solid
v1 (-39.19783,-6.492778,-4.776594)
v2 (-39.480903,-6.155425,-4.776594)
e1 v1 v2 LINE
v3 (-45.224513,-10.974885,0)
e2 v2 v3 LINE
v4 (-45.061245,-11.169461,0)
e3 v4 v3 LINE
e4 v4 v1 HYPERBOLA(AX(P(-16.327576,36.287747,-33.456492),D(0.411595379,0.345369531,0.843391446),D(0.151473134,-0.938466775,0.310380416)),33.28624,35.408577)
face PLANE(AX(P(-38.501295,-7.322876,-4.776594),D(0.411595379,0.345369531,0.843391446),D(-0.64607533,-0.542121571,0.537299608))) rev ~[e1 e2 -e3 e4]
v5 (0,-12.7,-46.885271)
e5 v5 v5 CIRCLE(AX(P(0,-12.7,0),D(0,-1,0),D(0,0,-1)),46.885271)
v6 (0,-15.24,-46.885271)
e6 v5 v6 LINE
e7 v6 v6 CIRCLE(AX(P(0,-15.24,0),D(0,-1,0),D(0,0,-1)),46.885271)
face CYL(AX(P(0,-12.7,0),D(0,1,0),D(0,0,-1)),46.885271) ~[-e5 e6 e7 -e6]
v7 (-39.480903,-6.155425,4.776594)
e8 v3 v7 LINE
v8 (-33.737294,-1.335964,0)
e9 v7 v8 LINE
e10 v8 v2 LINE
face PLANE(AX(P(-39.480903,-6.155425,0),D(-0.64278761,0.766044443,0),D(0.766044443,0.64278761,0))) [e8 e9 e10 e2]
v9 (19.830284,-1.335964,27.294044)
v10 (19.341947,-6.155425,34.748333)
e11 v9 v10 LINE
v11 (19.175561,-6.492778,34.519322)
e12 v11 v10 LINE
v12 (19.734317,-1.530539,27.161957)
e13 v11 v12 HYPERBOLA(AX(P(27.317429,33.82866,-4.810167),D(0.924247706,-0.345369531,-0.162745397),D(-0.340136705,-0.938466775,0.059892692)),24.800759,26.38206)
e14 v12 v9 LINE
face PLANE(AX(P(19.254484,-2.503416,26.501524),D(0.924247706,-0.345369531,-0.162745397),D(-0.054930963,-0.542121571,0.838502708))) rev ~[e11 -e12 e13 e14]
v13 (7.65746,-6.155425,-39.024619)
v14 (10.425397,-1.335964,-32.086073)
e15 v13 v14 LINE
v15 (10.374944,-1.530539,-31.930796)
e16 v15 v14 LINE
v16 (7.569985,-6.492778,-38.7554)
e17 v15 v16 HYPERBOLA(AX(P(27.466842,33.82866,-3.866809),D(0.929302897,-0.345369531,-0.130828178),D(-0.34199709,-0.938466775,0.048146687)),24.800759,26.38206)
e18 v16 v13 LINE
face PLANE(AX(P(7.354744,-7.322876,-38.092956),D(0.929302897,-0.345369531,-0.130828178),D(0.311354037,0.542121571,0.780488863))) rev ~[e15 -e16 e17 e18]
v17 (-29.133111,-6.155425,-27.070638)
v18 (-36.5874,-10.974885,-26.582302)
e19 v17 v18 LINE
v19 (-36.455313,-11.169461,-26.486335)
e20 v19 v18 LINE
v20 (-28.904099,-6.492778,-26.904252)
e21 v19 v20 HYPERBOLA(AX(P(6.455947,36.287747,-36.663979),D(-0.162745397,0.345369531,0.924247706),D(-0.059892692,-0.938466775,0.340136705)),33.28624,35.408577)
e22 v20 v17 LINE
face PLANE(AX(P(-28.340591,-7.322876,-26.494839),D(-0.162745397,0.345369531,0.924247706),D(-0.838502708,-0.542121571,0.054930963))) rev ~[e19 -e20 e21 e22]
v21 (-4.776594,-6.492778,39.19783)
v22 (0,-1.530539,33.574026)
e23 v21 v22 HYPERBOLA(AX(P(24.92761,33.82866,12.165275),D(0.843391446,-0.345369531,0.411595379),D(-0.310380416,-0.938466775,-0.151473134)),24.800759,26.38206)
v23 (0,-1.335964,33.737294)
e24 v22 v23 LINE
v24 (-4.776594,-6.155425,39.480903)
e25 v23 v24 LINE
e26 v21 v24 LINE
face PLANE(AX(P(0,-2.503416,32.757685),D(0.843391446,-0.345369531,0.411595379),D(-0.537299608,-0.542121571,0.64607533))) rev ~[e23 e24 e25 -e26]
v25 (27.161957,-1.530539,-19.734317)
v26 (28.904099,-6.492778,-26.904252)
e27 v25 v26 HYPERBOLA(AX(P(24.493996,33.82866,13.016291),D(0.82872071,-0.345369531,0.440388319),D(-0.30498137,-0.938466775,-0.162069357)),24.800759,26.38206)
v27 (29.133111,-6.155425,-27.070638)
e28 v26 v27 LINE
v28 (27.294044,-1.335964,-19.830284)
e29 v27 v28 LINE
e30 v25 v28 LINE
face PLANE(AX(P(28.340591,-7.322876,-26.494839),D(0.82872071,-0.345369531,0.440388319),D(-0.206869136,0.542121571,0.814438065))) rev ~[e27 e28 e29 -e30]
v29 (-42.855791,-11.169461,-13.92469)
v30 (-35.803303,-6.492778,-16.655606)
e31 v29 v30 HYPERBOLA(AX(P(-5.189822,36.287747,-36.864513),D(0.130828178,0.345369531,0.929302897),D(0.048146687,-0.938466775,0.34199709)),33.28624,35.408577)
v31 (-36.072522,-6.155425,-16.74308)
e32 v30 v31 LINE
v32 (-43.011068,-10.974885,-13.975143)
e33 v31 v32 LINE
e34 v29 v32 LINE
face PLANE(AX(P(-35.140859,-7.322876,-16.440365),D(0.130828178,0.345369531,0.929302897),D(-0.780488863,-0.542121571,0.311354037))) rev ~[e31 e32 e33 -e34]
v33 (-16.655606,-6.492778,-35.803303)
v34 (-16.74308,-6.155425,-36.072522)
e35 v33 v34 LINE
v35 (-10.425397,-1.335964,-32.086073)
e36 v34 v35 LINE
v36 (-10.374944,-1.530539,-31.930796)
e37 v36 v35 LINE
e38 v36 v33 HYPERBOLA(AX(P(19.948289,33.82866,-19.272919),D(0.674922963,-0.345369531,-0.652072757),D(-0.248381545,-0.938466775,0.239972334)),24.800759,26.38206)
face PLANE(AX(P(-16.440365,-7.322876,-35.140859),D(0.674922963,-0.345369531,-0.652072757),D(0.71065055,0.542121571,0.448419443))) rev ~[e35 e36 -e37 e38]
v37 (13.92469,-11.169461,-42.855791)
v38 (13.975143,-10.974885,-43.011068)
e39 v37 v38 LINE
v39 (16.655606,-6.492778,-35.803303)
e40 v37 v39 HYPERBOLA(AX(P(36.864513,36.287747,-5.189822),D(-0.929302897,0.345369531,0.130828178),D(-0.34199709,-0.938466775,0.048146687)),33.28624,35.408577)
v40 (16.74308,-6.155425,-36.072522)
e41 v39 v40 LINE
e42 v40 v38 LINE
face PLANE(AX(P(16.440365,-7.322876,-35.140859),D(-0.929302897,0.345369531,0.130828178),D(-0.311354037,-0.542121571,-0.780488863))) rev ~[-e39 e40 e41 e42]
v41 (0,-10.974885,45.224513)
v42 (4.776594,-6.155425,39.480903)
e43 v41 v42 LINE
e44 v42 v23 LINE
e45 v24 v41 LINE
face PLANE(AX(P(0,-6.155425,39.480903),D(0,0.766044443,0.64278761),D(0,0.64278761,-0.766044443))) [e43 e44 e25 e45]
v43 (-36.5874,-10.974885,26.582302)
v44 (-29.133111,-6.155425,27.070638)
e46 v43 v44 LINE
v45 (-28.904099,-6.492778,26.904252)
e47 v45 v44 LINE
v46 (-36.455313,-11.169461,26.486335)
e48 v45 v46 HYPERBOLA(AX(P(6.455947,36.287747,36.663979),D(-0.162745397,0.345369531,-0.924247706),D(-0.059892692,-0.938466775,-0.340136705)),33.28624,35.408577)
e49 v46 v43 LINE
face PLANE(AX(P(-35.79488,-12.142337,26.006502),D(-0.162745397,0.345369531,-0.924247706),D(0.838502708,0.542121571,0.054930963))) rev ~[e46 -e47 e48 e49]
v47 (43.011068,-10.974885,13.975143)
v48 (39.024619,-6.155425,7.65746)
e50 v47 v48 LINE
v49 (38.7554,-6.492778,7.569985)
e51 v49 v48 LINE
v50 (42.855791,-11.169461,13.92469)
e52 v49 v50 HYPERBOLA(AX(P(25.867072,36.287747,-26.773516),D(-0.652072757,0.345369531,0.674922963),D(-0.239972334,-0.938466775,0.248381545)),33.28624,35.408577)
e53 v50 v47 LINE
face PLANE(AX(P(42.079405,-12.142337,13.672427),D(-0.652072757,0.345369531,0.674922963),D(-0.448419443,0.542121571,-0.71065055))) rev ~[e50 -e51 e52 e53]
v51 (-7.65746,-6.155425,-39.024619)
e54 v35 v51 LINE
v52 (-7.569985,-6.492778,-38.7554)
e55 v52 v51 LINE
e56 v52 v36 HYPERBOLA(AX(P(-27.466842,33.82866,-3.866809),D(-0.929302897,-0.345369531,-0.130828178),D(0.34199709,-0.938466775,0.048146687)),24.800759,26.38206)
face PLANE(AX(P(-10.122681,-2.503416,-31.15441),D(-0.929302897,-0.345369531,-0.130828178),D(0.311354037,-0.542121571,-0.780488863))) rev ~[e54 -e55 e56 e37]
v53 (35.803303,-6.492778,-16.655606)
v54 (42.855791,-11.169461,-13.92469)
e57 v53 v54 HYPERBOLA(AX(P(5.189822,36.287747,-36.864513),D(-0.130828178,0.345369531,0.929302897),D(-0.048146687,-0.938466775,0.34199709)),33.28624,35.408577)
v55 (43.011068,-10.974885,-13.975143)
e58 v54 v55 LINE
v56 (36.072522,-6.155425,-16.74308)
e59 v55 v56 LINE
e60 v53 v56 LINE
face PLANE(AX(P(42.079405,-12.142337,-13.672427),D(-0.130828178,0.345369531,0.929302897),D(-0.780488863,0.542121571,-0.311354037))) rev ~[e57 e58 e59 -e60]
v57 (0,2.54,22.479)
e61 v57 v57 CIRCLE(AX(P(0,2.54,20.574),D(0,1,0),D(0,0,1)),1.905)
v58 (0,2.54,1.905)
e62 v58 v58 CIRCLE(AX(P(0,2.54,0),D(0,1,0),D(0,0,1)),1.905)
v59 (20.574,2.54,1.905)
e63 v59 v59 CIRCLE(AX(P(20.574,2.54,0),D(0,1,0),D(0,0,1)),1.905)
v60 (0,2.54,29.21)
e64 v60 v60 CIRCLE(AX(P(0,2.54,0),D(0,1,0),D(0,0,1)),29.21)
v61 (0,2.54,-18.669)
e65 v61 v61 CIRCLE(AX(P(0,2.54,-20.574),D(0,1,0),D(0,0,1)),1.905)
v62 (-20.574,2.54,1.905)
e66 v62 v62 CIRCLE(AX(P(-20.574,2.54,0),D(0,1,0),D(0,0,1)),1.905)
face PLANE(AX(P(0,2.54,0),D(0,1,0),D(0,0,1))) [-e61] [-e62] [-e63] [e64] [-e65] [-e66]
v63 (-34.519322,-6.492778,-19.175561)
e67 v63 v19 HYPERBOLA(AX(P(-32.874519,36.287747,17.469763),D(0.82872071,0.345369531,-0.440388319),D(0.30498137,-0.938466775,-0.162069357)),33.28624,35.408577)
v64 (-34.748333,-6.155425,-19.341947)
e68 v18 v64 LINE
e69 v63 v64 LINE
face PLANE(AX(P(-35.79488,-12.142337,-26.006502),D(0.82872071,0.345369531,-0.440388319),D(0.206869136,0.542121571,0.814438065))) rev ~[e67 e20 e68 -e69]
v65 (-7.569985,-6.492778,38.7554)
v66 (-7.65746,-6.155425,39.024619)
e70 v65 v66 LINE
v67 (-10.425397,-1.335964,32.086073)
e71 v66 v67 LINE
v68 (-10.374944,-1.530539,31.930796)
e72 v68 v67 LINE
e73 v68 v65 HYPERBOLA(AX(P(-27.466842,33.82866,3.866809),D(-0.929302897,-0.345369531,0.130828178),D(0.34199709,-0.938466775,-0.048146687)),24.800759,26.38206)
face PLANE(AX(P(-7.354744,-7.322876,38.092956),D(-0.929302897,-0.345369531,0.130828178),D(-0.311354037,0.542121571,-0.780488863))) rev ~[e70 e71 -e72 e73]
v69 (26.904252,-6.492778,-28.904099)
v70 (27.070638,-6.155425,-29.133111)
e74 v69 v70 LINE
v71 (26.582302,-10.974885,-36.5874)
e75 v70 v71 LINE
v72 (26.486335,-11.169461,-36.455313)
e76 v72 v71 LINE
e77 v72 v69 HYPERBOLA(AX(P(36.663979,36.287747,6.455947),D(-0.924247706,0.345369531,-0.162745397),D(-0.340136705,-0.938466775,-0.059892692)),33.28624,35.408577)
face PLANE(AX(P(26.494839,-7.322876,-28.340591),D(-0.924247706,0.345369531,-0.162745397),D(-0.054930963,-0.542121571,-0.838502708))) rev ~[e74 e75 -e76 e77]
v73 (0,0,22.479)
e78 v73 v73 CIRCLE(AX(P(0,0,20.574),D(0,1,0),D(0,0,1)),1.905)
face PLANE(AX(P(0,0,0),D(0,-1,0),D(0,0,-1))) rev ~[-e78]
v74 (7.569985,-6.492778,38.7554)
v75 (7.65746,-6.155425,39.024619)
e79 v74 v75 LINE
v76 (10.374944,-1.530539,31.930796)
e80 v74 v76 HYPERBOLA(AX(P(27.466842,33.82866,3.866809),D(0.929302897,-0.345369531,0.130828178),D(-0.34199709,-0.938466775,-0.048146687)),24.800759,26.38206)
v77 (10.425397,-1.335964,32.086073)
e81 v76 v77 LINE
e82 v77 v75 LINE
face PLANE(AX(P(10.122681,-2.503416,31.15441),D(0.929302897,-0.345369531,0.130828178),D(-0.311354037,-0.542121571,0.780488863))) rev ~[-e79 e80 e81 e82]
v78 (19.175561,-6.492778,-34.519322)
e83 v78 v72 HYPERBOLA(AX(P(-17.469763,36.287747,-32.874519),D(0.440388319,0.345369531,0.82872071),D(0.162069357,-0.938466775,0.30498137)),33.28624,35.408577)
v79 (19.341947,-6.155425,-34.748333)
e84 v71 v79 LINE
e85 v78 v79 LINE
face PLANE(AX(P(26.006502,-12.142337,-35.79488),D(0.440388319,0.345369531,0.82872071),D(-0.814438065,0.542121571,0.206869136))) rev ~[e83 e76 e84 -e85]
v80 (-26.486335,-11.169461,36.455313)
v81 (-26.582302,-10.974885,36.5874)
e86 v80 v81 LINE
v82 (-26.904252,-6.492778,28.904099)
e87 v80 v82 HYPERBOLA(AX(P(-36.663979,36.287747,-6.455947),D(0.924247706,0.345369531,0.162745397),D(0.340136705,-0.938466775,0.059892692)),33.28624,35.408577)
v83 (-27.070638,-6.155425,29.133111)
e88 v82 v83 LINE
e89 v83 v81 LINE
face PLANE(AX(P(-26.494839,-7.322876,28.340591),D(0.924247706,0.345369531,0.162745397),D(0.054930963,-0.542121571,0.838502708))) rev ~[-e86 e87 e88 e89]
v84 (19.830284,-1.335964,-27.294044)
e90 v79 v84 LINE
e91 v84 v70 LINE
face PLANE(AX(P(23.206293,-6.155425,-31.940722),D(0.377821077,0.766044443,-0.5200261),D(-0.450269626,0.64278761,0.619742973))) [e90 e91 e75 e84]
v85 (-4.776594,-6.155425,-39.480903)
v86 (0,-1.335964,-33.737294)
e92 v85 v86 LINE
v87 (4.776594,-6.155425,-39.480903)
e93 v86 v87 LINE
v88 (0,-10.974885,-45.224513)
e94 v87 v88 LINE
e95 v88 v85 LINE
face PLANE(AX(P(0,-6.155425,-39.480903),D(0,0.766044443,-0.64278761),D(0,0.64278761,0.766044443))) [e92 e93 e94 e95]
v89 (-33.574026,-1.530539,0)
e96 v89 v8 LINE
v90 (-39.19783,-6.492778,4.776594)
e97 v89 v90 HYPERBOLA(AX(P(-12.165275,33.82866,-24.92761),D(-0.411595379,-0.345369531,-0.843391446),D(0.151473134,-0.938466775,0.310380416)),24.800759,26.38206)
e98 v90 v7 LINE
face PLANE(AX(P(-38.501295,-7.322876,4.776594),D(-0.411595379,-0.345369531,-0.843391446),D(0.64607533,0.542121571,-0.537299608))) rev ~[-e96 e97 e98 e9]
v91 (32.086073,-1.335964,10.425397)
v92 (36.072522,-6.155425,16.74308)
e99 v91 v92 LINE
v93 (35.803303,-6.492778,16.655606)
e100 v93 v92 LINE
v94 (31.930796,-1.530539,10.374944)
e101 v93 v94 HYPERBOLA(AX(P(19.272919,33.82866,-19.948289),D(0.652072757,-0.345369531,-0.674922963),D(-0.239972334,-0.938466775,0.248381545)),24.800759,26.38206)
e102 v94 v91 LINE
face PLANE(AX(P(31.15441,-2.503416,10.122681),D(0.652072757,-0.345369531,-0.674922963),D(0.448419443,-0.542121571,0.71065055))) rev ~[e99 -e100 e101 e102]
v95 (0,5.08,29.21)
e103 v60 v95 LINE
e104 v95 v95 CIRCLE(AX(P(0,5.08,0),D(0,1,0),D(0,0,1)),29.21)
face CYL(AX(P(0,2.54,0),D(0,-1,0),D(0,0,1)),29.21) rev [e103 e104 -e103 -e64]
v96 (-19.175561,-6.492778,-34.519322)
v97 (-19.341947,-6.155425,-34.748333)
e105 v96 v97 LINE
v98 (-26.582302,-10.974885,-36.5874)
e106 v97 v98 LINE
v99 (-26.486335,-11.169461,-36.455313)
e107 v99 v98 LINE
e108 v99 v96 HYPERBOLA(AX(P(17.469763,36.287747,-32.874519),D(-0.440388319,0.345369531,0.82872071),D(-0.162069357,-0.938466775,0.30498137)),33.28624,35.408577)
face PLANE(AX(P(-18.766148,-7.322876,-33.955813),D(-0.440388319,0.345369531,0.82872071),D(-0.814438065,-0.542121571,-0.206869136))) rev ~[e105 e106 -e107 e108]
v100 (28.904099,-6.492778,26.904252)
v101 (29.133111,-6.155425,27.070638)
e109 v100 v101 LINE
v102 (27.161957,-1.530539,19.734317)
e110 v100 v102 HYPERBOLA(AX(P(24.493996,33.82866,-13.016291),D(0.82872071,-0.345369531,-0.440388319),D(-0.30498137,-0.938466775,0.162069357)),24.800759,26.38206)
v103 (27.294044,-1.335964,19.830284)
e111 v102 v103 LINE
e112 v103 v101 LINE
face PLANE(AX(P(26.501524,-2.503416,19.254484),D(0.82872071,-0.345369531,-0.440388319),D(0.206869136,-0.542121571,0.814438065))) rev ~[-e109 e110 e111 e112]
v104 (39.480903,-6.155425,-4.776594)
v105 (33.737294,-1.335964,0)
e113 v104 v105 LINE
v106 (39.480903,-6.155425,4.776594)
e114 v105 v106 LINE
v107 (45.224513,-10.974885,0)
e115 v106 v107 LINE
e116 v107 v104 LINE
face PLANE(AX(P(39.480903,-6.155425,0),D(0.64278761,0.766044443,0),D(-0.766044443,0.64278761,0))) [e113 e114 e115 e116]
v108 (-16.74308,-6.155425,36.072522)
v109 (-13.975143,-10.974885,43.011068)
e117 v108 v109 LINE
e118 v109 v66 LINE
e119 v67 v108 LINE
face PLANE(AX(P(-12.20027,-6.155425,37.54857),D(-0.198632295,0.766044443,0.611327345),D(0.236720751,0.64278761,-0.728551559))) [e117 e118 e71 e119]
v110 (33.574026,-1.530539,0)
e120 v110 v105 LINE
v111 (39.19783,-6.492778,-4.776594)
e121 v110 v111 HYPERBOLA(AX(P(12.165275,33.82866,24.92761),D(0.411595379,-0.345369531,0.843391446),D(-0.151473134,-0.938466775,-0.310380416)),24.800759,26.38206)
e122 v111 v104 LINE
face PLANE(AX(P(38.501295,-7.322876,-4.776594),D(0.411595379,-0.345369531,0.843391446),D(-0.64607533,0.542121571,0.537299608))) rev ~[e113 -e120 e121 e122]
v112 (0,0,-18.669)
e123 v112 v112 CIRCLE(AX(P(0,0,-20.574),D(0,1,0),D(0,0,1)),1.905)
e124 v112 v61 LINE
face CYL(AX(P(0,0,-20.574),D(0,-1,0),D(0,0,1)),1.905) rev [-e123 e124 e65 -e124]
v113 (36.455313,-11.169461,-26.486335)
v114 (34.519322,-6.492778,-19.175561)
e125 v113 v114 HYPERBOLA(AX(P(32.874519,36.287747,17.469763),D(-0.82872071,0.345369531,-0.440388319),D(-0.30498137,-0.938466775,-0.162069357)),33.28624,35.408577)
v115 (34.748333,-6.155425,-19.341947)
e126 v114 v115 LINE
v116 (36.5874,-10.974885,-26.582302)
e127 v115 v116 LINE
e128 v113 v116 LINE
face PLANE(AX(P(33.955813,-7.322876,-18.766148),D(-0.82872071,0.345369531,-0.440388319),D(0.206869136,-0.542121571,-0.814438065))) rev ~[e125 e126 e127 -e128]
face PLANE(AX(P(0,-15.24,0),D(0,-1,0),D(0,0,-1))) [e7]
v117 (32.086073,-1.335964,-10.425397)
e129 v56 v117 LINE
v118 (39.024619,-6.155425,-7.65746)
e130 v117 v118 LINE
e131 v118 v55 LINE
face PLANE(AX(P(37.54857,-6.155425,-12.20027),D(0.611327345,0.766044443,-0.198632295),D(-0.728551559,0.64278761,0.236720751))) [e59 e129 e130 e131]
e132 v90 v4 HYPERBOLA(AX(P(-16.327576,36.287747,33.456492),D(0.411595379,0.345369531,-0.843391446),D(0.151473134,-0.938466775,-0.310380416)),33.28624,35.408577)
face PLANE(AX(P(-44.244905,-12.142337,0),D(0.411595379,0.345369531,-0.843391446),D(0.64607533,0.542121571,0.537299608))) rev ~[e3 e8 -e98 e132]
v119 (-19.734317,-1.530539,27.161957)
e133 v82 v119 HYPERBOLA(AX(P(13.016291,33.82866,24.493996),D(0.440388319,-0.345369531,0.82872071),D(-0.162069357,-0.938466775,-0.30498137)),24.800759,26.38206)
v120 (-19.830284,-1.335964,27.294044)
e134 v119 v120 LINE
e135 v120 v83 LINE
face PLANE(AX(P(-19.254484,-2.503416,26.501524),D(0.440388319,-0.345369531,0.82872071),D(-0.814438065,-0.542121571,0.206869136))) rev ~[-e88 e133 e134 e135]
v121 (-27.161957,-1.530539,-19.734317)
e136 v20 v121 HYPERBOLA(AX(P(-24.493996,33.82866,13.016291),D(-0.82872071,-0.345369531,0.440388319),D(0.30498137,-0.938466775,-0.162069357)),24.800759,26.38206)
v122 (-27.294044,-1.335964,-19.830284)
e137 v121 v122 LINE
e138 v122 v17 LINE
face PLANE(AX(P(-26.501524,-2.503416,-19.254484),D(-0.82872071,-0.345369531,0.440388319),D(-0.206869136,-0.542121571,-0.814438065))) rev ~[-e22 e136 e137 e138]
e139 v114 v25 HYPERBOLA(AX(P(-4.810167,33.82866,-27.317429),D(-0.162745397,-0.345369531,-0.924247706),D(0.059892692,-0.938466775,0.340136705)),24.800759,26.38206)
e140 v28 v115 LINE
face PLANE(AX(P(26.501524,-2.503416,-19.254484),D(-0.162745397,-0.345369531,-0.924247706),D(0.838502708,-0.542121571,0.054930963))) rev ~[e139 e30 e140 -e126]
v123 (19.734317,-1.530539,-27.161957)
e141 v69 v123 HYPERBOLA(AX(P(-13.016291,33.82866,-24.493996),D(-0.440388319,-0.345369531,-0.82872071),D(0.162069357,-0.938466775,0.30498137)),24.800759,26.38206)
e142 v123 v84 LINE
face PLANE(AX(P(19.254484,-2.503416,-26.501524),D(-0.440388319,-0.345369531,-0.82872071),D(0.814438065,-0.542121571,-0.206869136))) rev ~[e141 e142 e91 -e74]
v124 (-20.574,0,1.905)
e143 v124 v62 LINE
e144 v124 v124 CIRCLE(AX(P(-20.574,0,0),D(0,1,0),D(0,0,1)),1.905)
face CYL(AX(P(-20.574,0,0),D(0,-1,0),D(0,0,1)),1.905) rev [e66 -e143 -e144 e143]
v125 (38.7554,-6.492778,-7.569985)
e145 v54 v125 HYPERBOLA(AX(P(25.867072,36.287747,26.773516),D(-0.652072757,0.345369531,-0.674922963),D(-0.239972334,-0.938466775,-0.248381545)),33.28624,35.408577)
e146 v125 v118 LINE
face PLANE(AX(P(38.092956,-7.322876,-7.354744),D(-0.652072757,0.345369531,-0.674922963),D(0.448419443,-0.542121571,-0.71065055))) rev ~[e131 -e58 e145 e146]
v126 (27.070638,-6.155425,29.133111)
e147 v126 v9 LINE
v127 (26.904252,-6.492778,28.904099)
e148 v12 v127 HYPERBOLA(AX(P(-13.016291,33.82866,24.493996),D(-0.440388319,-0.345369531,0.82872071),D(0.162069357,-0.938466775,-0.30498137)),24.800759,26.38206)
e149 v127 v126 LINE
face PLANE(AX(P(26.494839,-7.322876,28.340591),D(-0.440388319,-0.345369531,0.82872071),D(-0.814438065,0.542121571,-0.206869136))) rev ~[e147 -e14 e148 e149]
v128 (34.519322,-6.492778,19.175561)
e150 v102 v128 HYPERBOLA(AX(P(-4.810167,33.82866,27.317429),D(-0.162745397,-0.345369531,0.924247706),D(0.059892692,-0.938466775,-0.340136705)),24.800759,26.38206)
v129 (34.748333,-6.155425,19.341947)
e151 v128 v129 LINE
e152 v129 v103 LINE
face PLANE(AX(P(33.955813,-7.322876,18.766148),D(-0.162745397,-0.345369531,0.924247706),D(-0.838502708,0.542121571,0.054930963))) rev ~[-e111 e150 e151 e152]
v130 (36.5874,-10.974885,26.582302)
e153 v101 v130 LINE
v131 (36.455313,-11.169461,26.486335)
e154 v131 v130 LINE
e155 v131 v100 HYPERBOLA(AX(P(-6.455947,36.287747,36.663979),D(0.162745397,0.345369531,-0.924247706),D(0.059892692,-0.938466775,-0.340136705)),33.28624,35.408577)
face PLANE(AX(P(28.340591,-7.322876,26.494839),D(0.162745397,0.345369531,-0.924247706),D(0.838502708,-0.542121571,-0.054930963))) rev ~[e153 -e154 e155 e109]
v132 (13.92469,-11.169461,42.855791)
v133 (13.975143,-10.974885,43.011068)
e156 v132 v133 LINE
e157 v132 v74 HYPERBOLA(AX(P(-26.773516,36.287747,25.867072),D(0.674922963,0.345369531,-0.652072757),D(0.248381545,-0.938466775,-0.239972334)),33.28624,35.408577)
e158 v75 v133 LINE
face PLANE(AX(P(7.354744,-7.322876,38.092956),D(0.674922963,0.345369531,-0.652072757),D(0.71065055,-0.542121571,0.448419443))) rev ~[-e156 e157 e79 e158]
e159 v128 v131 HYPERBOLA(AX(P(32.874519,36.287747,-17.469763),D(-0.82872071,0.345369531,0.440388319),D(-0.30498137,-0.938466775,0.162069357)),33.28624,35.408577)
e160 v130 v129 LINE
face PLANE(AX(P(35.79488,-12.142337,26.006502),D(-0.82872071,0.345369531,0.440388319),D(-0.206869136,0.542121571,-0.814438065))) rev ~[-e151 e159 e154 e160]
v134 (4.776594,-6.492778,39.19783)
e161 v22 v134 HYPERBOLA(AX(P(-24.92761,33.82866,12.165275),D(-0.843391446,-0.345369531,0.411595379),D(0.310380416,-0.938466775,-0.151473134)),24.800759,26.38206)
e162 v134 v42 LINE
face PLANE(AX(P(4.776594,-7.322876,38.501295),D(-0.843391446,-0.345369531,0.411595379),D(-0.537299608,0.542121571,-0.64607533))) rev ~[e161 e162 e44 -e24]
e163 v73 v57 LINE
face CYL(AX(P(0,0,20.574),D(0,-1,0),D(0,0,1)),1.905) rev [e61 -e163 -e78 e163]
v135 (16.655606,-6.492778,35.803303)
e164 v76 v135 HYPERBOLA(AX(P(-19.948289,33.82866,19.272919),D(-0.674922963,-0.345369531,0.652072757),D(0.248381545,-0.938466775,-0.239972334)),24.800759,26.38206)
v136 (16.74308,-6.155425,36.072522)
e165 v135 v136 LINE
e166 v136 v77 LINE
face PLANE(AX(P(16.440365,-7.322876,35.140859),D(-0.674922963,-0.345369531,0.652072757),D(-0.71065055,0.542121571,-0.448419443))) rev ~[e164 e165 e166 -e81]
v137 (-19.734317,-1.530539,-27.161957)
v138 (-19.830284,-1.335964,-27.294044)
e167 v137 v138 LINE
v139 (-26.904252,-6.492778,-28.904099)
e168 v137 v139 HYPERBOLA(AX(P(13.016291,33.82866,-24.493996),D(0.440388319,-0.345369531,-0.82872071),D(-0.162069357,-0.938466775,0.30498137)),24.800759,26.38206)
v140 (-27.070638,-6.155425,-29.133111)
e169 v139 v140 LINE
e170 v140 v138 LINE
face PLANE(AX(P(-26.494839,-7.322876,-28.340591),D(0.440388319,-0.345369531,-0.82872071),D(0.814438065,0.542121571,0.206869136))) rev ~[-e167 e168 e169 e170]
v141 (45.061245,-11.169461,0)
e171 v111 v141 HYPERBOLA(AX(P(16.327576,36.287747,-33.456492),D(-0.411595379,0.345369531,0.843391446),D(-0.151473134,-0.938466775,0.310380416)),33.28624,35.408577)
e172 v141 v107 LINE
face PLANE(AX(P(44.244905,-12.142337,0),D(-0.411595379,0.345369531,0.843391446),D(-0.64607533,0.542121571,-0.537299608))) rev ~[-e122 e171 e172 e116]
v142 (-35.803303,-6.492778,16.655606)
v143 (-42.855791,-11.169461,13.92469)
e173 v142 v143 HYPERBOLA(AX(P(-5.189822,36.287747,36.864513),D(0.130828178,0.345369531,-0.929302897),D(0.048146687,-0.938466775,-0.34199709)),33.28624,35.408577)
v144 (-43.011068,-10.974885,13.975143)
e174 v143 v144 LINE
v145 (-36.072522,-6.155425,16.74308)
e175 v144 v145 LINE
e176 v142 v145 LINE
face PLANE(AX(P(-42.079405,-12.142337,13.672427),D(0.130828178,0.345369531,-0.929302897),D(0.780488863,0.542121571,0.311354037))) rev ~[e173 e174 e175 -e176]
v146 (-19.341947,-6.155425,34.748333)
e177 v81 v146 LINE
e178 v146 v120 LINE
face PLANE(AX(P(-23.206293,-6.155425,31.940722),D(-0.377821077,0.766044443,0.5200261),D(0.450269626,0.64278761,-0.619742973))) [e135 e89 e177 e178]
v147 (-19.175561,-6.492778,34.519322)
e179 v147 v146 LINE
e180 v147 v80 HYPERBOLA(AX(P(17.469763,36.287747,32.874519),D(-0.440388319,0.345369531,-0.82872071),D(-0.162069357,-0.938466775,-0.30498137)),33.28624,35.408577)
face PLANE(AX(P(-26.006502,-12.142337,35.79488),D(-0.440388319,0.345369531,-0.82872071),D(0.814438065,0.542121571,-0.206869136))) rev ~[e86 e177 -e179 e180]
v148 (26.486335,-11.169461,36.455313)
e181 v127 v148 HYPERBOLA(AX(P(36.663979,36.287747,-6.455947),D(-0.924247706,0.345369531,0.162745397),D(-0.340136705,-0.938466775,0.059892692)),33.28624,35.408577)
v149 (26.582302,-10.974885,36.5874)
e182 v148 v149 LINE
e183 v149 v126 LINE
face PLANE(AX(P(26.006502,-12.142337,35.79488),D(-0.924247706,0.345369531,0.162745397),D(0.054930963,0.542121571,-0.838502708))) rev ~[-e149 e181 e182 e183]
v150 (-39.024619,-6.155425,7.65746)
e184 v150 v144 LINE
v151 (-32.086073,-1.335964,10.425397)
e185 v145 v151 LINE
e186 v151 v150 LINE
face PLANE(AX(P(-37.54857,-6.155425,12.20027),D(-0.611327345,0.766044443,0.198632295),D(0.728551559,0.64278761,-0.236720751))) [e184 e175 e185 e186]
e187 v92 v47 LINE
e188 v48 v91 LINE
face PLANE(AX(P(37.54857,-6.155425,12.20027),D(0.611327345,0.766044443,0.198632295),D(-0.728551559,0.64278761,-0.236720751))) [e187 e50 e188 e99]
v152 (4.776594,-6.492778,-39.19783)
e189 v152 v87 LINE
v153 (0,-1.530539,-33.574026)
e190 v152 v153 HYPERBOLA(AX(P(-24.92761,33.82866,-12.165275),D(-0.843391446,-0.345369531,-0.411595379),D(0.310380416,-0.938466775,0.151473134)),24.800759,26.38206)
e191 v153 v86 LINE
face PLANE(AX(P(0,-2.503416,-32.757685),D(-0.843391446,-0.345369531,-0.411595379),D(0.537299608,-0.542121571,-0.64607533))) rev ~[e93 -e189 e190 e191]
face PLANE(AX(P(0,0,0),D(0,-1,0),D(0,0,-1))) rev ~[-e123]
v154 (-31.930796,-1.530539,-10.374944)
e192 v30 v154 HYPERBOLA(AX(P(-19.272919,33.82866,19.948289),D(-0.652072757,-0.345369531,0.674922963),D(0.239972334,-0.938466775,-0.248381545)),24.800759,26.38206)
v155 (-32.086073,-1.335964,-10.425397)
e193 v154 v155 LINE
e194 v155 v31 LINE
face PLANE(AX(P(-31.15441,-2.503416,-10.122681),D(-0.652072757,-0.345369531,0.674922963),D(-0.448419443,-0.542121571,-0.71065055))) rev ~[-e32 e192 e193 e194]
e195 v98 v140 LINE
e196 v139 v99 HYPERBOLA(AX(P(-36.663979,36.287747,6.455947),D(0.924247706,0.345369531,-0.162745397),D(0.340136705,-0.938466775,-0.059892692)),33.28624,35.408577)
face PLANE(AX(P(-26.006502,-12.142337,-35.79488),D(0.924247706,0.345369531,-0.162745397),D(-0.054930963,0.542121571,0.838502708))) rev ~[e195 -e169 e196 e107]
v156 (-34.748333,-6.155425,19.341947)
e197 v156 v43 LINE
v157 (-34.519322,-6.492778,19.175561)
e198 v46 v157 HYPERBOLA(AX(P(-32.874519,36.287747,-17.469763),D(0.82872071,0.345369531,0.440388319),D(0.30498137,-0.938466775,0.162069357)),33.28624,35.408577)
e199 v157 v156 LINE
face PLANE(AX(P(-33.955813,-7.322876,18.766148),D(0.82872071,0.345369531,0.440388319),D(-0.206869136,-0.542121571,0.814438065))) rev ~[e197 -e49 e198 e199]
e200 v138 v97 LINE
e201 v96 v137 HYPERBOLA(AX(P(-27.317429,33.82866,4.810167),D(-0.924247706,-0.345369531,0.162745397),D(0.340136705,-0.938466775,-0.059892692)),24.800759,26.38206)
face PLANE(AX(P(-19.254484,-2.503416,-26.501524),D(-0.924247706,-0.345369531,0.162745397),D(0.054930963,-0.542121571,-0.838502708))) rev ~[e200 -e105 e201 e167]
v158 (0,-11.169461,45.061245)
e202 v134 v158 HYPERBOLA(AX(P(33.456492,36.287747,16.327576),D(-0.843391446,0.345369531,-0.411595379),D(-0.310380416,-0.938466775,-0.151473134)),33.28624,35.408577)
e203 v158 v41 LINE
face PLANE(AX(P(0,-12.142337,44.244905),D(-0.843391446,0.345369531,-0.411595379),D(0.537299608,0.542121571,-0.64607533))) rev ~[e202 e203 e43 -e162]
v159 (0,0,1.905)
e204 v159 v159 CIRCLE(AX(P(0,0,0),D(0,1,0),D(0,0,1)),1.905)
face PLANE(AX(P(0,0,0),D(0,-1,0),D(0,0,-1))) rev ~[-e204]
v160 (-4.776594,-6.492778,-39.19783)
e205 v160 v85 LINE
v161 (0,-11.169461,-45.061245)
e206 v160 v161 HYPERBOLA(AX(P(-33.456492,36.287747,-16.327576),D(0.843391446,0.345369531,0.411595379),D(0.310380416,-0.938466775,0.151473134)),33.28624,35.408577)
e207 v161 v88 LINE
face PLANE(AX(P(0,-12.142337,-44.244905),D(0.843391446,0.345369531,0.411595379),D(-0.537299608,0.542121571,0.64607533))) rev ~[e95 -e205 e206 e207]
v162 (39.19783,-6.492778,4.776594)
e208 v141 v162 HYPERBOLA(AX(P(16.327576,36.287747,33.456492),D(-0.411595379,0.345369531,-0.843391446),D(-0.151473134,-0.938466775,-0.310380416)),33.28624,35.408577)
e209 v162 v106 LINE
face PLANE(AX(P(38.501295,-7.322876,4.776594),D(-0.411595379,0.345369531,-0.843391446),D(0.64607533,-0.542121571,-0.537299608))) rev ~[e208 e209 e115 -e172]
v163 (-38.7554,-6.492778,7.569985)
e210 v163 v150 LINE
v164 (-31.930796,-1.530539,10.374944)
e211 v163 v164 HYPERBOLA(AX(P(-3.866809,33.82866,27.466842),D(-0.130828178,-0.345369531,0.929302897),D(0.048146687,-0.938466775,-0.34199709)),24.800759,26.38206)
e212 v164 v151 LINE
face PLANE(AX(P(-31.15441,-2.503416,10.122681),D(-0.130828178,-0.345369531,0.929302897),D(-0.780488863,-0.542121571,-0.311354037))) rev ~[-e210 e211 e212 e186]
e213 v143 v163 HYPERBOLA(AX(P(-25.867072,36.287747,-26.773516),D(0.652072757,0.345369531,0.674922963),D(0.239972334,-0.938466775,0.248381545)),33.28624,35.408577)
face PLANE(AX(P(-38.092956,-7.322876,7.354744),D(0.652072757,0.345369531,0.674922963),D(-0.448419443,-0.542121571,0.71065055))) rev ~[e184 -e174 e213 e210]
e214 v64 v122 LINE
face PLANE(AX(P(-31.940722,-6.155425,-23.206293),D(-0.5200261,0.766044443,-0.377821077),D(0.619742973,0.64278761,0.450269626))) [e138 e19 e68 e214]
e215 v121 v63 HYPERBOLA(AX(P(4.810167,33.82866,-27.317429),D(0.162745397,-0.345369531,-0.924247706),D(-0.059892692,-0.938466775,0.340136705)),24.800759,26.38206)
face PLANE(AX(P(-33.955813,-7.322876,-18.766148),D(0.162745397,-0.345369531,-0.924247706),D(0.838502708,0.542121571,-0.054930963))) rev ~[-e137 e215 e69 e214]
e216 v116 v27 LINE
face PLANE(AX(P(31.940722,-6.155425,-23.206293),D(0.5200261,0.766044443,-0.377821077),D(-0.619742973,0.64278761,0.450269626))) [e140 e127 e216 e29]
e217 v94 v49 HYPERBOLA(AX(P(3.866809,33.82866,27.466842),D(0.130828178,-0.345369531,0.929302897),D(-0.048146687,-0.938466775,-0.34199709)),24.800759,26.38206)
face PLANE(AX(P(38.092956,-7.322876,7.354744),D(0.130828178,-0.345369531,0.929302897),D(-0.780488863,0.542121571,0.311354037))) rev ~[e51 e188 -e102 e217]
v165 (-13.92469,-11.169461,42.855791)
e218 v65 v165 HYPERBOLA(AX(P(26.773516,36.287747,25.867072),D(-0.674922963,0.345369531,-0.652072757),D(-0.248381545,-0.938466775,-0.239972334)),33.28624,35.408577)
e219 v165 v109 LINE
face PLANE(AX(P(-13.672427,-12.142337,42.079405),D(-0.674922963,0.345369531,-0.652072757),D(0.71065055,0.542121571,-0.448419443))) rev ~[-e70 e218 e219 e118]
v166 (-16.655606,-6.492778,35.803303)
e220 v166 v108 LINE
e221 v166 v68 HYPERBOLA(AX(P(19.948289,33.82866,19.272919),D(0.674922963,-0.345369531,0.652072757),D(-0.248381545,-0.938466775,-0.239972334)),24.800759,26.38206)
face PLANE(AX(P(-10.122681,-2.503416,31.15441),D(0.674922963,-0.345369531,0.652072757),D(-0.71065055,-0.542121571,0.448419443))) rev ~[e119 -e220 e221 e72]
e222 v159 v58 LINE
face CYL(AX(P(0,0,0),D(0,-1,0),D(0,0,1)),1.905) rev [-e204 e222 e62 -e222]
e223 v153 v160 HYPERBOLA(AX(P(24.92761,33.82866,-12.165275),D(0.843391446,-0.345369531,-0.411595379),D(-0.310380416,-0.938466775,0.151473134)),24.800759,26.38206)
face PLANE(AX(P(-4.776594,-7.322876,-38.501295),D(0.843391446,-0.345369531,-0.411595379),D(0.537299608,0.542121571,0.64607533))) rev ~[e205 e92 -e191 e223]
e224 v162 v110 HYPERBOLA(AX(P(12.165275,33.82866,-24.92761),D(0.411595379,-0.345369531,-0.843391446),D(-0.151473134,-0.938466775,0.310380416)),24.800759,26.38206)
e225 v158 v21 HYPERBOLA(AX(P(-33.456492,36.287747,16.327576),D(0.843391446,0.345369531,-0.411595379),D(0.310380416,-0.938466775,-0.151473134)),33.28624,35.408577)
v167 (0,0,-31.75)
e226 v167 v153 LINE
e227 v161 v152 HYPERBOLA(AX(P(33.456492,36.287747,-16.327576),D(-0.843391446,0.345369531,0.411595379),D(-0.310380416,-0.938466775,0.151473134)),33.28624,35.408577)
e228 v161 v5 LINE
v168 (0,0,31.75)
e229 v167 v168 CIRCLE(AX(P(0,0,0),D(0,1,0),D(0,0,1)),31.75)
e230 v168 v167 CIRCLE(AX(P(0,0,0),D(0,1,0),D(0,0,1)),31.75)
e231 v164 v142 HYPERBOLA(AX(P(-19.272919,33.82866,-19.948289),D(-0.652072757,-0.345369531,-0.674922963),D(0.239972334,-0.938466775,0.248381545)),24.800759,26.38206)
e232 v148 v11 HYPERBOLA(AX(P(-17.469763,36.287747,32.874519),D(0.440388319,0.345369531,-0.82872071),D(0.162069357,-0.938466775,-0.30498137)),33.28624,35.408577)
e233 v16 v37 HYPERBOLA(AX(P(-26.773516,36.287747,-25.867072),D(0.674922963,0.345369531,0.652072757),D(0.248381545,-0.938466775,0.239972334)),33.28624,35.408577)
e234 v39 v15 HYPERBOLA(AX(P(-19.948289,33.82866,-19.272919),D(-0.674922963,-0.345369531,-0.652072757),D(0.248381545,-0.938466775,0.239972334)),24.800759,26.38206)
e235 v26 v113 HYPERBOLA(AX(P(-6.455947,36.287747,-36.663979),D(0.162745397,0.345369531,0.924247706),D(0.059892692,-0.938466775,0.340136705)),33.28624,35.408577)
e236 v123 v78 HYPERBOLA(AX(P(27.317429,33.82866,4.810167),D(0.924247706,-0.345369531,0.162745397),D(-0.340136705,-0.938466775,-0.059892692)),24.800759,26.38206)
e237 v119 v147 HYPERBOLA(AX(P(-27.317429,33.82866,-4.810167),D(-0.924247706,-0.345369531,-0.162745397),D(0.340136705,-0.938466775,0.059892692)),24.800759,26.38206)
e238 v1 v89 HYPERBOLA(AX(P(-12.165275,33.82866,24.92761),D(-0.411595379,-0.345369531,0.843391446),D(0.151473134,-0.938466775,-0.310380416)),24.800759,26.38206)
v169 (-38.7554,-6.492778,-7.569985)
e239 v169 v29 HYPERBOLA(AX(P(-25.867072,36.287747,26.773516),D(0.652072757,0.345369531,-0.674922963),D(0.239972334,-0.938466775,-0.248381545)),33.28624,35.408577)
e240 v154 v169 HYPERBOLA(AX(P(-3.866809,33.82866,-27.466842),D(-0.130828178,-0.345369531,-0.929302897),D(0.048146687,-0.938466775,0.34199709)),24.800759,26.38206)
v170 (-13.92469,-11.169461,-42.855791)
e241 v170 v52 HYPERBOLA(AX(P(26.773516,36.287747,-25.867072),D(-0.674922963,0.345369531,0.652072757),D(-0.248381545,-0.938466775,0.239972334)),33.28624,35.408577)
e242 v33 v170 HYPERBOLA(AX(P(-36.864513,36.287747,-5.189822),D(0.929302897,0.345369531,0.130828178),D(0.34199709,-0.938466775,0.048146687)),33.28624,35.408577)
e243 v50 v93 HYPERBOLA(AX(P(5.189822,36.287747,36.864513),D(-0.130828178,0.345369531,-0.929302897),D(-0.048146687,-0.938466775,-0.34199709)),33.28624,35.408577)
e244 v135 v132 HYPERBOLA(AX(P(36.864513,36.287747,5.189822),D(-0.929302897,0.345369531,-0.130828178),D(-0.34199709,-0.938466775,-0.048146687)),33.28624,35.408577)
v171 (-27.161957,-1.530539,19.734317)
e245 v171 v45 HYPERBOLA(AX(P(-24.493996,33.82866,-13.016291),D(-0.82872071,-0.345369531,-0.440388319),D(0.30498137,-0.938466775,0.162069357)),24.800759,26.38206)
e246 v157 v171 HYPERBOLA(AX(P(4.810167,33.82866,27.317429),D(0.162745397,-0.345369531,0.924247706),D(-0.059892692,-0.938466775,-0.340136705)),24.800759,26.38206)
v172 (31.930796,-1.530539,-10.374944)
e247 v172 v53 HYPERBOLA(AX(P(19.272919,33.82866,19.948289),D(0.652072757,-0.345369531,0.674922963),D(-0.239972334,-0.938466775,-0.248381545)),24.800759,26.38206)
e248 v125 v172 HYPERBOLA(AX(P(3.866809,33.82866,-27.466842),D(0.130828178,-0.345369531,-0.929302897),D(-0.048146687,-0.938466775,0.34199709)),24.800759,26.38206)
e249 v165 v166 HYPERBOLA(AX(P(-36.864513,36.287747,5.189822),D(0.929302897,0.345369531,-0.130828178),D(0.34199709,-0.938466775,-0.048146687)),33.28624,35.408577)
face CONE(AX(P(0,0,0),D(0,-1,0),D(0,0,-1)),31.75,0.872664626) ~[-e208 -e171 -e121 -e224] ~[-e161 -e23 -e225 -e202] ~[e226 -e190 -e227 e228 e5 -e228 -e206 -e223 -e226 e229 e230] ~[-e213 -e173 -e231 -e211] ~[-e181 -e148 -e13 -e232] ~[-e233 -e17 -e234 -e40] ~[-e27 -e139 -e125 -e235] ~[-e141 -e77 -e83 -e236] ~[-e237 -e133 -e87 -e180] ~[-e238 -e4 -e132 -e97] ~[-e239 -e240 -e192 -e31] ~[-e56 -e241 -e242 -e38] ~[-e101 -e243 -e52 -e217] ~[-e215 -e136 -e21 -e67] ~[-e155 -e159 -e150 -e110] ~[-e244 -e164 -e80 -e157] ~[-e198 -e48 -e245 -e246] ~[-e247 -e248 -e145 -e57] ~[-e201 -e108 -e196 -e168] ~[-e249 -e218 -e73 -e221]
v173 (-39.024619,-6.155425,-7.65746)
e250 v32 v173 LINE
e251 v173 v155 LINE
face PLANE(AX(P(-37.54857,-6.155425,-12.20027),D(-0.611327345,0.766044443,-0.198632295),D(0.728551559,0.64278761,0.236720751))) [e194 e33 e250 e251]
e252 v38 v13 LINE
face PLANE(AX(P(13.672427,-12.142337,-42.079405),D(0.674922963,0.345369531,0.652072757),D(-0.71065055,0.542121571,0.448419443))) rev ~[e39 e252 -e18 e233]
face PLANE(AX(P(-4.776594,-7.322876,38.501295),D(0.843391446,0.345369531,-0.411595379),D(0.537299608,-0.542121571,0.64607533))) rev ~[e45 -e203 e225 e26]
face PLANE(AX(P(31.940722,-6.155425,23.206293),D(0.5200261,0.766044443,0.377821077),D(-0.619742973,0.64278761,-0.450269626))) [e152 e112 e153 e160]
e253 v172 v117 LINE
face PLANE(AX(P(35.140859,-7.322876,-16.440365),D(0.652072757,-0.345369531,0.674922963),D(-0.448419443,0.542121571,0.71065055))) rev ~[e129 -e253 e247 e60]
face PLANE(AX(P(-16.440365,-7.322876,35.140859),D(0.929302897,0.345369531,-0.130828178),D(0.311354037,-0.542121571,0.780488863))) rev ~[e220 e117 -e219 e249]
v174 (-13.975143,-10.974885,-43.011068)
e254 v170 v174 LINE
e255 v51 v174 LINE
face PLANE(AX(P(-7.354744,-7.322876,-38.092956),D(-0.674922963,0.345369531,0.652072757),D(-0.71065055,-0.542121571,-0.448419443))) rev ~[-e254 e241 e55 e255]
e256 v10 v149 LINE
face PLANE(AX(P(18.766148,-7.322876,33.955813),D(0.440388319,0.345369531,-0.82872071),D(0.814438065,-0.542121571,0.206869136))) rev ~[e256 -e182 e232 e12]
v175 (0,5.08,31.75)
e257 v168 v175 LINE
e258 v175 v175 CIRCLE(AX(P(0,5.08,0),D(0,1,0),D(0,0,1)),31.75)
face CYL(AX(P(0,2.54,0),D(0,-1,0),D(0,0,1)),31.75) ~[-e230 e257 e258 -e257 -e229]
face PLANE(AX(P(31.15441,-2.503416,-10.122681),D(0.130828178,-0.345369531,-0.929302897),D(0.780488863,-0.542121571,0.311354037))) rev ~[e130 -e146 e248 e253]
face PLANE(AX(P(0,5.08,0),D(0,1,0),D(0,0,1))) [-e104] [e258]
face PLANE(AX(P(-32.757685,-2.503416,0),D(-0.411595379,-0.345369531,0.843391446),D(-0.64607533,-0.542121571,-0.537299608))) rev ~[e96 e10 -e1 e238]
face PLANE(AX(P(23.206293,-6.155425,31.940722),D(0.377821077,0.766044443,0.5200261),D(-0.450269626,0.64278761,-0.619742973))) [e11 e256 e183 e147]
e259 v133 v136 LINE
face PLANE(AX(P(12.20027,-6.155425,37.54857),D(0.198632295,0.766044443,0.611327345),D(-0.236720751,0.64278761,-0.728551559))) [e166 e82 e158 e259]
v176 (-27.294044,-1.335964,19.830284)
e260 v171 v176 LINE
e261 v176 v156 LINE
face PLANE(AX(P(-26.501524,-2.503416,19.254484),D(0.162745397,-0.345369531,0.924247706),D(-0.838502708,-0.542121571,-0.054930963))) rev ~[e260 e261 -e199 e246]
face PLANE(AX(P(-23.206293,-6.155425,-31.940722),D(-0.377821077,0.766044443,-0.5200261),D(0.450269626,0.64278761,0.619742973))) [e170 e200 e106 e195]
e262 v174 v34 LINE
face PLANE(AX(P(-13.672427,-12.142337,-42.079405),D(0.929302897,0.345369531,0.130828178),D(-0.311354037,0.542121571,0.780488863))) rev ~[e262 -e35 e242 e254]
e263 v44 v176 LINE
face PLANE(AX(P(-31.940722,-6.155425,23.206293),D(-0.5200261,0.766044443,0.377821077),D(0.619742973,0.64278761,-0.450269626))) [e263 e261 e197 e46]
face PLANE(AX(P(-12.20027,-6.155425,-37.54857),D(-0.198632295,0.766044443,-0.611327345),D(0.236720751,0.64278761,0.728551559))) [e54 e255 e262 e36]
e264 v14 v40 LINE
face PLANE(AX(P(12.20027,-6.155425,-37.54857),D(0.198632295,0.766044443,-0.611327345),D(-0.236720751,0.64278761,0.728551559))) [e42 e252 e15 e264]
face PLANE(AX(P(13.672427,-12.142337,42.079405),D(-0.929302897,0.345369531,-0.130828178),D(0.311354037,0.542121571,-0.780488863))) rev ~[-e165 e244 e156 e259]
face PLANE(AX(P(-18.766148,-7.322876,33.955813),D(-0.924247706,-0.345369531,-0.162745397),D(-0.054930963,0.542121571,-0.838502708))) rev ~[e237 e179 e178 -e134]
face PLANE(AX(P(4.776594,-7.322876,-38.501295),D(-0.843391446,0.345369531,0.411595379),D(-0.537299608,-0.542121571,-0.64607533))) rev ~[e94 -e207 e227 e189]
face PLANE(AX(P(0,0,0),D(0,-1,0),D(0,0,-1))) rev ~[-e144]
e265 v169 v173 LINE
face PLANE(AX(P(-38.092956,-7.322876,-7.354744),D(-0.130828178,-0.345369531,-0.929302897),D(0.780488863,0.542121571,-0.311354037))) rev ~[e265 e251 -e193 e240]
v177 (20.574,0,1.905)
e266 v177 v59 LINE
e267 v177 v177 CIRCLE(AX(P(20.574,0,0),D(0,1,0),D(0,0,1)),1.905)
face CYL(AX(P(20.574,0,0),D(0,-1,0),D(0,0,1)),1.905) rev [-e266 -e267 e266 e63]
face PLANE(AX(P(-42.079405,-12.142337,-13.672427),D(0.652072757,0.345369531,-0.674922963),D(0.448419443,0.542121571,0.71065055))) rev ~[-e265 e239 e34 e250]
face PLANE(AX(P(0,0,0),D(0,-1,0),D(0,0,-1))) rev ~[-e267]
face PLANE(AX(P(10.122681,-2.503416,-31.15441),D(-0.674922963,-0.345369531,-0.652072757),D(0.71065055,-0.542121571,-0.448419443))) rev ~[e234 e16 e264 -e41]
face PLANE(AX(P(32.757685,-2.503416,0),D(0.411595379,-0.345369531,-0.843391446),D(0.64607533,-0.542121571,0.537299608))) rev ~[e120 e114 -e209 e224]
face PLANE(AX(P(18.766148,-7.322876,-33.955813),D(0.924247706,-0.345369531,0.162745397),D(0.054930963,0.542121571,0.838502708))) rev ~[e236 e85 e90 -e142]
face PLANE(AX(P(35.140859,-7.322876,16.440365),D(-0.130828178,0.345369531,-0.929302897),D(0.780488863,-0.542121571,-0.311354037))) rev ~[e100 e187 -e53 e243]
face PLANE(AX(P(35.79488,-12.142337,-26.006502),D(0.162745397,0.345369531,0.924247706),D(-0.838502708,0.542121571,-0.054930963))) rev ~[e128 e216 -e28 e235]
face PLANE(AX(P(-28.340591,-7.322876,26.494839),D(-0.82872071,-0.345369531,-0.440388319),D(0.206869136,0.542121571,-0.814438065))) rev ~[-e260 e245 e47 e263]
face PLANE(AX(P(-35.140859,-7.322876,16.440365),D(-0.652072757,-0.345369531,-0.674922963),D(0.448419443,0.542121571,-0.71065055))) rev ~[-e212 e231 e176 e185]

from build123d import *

# Parameters (mm, degrees)
SKETCH1_R           = 31.75
SKETCH1_R_2         = 1.905
BOSS_EXTRUDE1_DEPTH = 2.54
SKETCH2_R           = 31.75
SKETCH2_R_2         = 29.21
BOSS_EXTRUDE2_DEPTH = 2.54
SKETCH3_R           = 31.75
BOSS_EXTRUDE3_DEPTH = 12.7
BOSS_EXTRUDE3_DRAFT = -50
SKETCH4_R           = 46.885270626
BOSS_EXTRUDE4_DEPTH = 2.54
BOSS_EXTRUDE5_START = -1.27
BOSS_EXTRUDE5_DEPTH = 1.524
CIRPATTERN1_COUNT   = 20


with BuildPart() as part:
    # Sketch1 → Boss-Extrude1 (new body)
    with BuildSketch(Plane(origin=(0, 0, 0), x_dir=(1, 0, 0), z_dir=(0, 1, 0))):
        with Locations(Location((0, 0, 0), (0, 0, 270))):
            Circle(SKETCH1_R)
        with Locations(Location((0, 20.574, 0), (0, 0, 270))):
            Circle(SKETCH1_R_2, mode=Mode.SUBTRACT)
        with Locations(Location((20.574, 0, 0), (0, 0, 270))):
            Circle(SKETCH1_R_2, mode=Mode.SUBTRACT)
        with Locations(Location((0, -20.574, 0), (0, 0, 270))):
            Circle(SKETCH1_R_2, mode=Mode.SUBTRACT)
        with Locations(Location((-20.574, 0, 0), (0, 0, 270))):
            Circle(SKETCH1_R_2, mode=Mode.SUBTRACT)
        with Locations(Location((0, 0, 0), (0, 0, 270))):
            Circle(SKETCH1_R_2, mode=Mode.SUBTRACT)
    extrude(amount=BOSS_EXTRUDE1_DEPTH)

    # Sketch2 → Boss-Extrude2 (add)
    with BuildSketch(Plane(origin=(0, 2.54, 0), x_dir=(1, 0, 0), z_dir=(0, 1, 0))):
        with Locations(Location((0, 0, 0), (0, 0, 270))):
            Circle(SKETCH2_R)
        with Locations(Location((0, 0, 0), (0, 0, 270))):
            Circle(SKETCH2_R_2, mode=Mode.SUBTRACT)
    extrude(amount=BOSS_EXTRUDE2_DEPTH)


with BuildPart() as boss_extrude3_tool:
    # Sketch3 → Boss-Extrude3 (with draft: the straight prism first)
    with BuildSketch(Plane.XZ):
        with Locations(Location((0, 0, 0), (0, 0, 270))):
            Circle(SKETCH3_R)
    extrude(amount=BOSS_EXTRUDE3_DEPTH)
    # Boss-Extrude3: the draft: its side faces are tilted about the plane it starts from
    boss_extrude3_sides = [boss_extrude3_tool.faces().sort_by_distance(p)[0] for p in [
        (0, -6.35, 31.75),
    ]]
    draft(boss_extrude3_sides, Plane.XZ, BOSS_EXTRUDE3_DRAFT)


with BuildPart() as part_1:
    add(part.part)

    # Boss-Extrude3: add boss_extrude3_tool
    add(boss_extrude3_tool.part)

    # Sketch4 → Boss-Extrude4 (add)
    with BuildSketch(Plane.XZ.offset(12.7)):
        with Locations(Location((0, 0, 0), (0, 0, 270))):
            Circle(SKETCH4_R)
    extrude(amount=BOSS_EXTRUDE4_DEPTH)

    # Sketch6 → Boss-Extrude5 (add)
    with BuildSketch(Plane(origin=(-39.317635313, -6.35, 0), x_dir=(0.7660444431189796, 0.6427876096865376, 0), z_dir=(-0.6427876096865376, 0.7660444431189797, 0)).offset(BOSS_EXTRUDE5_START)):
        Polygon((-7.497749953, 0), (0, -4.776593518), (7.497749953, 0), (0, 4.776593518), align=None)
    boss_extrude5 = extrude(amount=BOSS_EXTRUDE5_DEPTH)

    # CirPattern1: Boss-Extrude5 ×20 about axis
    cirpattern1_axis = Axis((0, 0, 0), (0, 1, 0))
    for i in range(1, CIRPATTERN1_COUNT):
        add(boss_extrude5.rotate(cirpattern1_axis, i * 360 / CIRPATTERN1_COUNT))


solid = part_1.part
